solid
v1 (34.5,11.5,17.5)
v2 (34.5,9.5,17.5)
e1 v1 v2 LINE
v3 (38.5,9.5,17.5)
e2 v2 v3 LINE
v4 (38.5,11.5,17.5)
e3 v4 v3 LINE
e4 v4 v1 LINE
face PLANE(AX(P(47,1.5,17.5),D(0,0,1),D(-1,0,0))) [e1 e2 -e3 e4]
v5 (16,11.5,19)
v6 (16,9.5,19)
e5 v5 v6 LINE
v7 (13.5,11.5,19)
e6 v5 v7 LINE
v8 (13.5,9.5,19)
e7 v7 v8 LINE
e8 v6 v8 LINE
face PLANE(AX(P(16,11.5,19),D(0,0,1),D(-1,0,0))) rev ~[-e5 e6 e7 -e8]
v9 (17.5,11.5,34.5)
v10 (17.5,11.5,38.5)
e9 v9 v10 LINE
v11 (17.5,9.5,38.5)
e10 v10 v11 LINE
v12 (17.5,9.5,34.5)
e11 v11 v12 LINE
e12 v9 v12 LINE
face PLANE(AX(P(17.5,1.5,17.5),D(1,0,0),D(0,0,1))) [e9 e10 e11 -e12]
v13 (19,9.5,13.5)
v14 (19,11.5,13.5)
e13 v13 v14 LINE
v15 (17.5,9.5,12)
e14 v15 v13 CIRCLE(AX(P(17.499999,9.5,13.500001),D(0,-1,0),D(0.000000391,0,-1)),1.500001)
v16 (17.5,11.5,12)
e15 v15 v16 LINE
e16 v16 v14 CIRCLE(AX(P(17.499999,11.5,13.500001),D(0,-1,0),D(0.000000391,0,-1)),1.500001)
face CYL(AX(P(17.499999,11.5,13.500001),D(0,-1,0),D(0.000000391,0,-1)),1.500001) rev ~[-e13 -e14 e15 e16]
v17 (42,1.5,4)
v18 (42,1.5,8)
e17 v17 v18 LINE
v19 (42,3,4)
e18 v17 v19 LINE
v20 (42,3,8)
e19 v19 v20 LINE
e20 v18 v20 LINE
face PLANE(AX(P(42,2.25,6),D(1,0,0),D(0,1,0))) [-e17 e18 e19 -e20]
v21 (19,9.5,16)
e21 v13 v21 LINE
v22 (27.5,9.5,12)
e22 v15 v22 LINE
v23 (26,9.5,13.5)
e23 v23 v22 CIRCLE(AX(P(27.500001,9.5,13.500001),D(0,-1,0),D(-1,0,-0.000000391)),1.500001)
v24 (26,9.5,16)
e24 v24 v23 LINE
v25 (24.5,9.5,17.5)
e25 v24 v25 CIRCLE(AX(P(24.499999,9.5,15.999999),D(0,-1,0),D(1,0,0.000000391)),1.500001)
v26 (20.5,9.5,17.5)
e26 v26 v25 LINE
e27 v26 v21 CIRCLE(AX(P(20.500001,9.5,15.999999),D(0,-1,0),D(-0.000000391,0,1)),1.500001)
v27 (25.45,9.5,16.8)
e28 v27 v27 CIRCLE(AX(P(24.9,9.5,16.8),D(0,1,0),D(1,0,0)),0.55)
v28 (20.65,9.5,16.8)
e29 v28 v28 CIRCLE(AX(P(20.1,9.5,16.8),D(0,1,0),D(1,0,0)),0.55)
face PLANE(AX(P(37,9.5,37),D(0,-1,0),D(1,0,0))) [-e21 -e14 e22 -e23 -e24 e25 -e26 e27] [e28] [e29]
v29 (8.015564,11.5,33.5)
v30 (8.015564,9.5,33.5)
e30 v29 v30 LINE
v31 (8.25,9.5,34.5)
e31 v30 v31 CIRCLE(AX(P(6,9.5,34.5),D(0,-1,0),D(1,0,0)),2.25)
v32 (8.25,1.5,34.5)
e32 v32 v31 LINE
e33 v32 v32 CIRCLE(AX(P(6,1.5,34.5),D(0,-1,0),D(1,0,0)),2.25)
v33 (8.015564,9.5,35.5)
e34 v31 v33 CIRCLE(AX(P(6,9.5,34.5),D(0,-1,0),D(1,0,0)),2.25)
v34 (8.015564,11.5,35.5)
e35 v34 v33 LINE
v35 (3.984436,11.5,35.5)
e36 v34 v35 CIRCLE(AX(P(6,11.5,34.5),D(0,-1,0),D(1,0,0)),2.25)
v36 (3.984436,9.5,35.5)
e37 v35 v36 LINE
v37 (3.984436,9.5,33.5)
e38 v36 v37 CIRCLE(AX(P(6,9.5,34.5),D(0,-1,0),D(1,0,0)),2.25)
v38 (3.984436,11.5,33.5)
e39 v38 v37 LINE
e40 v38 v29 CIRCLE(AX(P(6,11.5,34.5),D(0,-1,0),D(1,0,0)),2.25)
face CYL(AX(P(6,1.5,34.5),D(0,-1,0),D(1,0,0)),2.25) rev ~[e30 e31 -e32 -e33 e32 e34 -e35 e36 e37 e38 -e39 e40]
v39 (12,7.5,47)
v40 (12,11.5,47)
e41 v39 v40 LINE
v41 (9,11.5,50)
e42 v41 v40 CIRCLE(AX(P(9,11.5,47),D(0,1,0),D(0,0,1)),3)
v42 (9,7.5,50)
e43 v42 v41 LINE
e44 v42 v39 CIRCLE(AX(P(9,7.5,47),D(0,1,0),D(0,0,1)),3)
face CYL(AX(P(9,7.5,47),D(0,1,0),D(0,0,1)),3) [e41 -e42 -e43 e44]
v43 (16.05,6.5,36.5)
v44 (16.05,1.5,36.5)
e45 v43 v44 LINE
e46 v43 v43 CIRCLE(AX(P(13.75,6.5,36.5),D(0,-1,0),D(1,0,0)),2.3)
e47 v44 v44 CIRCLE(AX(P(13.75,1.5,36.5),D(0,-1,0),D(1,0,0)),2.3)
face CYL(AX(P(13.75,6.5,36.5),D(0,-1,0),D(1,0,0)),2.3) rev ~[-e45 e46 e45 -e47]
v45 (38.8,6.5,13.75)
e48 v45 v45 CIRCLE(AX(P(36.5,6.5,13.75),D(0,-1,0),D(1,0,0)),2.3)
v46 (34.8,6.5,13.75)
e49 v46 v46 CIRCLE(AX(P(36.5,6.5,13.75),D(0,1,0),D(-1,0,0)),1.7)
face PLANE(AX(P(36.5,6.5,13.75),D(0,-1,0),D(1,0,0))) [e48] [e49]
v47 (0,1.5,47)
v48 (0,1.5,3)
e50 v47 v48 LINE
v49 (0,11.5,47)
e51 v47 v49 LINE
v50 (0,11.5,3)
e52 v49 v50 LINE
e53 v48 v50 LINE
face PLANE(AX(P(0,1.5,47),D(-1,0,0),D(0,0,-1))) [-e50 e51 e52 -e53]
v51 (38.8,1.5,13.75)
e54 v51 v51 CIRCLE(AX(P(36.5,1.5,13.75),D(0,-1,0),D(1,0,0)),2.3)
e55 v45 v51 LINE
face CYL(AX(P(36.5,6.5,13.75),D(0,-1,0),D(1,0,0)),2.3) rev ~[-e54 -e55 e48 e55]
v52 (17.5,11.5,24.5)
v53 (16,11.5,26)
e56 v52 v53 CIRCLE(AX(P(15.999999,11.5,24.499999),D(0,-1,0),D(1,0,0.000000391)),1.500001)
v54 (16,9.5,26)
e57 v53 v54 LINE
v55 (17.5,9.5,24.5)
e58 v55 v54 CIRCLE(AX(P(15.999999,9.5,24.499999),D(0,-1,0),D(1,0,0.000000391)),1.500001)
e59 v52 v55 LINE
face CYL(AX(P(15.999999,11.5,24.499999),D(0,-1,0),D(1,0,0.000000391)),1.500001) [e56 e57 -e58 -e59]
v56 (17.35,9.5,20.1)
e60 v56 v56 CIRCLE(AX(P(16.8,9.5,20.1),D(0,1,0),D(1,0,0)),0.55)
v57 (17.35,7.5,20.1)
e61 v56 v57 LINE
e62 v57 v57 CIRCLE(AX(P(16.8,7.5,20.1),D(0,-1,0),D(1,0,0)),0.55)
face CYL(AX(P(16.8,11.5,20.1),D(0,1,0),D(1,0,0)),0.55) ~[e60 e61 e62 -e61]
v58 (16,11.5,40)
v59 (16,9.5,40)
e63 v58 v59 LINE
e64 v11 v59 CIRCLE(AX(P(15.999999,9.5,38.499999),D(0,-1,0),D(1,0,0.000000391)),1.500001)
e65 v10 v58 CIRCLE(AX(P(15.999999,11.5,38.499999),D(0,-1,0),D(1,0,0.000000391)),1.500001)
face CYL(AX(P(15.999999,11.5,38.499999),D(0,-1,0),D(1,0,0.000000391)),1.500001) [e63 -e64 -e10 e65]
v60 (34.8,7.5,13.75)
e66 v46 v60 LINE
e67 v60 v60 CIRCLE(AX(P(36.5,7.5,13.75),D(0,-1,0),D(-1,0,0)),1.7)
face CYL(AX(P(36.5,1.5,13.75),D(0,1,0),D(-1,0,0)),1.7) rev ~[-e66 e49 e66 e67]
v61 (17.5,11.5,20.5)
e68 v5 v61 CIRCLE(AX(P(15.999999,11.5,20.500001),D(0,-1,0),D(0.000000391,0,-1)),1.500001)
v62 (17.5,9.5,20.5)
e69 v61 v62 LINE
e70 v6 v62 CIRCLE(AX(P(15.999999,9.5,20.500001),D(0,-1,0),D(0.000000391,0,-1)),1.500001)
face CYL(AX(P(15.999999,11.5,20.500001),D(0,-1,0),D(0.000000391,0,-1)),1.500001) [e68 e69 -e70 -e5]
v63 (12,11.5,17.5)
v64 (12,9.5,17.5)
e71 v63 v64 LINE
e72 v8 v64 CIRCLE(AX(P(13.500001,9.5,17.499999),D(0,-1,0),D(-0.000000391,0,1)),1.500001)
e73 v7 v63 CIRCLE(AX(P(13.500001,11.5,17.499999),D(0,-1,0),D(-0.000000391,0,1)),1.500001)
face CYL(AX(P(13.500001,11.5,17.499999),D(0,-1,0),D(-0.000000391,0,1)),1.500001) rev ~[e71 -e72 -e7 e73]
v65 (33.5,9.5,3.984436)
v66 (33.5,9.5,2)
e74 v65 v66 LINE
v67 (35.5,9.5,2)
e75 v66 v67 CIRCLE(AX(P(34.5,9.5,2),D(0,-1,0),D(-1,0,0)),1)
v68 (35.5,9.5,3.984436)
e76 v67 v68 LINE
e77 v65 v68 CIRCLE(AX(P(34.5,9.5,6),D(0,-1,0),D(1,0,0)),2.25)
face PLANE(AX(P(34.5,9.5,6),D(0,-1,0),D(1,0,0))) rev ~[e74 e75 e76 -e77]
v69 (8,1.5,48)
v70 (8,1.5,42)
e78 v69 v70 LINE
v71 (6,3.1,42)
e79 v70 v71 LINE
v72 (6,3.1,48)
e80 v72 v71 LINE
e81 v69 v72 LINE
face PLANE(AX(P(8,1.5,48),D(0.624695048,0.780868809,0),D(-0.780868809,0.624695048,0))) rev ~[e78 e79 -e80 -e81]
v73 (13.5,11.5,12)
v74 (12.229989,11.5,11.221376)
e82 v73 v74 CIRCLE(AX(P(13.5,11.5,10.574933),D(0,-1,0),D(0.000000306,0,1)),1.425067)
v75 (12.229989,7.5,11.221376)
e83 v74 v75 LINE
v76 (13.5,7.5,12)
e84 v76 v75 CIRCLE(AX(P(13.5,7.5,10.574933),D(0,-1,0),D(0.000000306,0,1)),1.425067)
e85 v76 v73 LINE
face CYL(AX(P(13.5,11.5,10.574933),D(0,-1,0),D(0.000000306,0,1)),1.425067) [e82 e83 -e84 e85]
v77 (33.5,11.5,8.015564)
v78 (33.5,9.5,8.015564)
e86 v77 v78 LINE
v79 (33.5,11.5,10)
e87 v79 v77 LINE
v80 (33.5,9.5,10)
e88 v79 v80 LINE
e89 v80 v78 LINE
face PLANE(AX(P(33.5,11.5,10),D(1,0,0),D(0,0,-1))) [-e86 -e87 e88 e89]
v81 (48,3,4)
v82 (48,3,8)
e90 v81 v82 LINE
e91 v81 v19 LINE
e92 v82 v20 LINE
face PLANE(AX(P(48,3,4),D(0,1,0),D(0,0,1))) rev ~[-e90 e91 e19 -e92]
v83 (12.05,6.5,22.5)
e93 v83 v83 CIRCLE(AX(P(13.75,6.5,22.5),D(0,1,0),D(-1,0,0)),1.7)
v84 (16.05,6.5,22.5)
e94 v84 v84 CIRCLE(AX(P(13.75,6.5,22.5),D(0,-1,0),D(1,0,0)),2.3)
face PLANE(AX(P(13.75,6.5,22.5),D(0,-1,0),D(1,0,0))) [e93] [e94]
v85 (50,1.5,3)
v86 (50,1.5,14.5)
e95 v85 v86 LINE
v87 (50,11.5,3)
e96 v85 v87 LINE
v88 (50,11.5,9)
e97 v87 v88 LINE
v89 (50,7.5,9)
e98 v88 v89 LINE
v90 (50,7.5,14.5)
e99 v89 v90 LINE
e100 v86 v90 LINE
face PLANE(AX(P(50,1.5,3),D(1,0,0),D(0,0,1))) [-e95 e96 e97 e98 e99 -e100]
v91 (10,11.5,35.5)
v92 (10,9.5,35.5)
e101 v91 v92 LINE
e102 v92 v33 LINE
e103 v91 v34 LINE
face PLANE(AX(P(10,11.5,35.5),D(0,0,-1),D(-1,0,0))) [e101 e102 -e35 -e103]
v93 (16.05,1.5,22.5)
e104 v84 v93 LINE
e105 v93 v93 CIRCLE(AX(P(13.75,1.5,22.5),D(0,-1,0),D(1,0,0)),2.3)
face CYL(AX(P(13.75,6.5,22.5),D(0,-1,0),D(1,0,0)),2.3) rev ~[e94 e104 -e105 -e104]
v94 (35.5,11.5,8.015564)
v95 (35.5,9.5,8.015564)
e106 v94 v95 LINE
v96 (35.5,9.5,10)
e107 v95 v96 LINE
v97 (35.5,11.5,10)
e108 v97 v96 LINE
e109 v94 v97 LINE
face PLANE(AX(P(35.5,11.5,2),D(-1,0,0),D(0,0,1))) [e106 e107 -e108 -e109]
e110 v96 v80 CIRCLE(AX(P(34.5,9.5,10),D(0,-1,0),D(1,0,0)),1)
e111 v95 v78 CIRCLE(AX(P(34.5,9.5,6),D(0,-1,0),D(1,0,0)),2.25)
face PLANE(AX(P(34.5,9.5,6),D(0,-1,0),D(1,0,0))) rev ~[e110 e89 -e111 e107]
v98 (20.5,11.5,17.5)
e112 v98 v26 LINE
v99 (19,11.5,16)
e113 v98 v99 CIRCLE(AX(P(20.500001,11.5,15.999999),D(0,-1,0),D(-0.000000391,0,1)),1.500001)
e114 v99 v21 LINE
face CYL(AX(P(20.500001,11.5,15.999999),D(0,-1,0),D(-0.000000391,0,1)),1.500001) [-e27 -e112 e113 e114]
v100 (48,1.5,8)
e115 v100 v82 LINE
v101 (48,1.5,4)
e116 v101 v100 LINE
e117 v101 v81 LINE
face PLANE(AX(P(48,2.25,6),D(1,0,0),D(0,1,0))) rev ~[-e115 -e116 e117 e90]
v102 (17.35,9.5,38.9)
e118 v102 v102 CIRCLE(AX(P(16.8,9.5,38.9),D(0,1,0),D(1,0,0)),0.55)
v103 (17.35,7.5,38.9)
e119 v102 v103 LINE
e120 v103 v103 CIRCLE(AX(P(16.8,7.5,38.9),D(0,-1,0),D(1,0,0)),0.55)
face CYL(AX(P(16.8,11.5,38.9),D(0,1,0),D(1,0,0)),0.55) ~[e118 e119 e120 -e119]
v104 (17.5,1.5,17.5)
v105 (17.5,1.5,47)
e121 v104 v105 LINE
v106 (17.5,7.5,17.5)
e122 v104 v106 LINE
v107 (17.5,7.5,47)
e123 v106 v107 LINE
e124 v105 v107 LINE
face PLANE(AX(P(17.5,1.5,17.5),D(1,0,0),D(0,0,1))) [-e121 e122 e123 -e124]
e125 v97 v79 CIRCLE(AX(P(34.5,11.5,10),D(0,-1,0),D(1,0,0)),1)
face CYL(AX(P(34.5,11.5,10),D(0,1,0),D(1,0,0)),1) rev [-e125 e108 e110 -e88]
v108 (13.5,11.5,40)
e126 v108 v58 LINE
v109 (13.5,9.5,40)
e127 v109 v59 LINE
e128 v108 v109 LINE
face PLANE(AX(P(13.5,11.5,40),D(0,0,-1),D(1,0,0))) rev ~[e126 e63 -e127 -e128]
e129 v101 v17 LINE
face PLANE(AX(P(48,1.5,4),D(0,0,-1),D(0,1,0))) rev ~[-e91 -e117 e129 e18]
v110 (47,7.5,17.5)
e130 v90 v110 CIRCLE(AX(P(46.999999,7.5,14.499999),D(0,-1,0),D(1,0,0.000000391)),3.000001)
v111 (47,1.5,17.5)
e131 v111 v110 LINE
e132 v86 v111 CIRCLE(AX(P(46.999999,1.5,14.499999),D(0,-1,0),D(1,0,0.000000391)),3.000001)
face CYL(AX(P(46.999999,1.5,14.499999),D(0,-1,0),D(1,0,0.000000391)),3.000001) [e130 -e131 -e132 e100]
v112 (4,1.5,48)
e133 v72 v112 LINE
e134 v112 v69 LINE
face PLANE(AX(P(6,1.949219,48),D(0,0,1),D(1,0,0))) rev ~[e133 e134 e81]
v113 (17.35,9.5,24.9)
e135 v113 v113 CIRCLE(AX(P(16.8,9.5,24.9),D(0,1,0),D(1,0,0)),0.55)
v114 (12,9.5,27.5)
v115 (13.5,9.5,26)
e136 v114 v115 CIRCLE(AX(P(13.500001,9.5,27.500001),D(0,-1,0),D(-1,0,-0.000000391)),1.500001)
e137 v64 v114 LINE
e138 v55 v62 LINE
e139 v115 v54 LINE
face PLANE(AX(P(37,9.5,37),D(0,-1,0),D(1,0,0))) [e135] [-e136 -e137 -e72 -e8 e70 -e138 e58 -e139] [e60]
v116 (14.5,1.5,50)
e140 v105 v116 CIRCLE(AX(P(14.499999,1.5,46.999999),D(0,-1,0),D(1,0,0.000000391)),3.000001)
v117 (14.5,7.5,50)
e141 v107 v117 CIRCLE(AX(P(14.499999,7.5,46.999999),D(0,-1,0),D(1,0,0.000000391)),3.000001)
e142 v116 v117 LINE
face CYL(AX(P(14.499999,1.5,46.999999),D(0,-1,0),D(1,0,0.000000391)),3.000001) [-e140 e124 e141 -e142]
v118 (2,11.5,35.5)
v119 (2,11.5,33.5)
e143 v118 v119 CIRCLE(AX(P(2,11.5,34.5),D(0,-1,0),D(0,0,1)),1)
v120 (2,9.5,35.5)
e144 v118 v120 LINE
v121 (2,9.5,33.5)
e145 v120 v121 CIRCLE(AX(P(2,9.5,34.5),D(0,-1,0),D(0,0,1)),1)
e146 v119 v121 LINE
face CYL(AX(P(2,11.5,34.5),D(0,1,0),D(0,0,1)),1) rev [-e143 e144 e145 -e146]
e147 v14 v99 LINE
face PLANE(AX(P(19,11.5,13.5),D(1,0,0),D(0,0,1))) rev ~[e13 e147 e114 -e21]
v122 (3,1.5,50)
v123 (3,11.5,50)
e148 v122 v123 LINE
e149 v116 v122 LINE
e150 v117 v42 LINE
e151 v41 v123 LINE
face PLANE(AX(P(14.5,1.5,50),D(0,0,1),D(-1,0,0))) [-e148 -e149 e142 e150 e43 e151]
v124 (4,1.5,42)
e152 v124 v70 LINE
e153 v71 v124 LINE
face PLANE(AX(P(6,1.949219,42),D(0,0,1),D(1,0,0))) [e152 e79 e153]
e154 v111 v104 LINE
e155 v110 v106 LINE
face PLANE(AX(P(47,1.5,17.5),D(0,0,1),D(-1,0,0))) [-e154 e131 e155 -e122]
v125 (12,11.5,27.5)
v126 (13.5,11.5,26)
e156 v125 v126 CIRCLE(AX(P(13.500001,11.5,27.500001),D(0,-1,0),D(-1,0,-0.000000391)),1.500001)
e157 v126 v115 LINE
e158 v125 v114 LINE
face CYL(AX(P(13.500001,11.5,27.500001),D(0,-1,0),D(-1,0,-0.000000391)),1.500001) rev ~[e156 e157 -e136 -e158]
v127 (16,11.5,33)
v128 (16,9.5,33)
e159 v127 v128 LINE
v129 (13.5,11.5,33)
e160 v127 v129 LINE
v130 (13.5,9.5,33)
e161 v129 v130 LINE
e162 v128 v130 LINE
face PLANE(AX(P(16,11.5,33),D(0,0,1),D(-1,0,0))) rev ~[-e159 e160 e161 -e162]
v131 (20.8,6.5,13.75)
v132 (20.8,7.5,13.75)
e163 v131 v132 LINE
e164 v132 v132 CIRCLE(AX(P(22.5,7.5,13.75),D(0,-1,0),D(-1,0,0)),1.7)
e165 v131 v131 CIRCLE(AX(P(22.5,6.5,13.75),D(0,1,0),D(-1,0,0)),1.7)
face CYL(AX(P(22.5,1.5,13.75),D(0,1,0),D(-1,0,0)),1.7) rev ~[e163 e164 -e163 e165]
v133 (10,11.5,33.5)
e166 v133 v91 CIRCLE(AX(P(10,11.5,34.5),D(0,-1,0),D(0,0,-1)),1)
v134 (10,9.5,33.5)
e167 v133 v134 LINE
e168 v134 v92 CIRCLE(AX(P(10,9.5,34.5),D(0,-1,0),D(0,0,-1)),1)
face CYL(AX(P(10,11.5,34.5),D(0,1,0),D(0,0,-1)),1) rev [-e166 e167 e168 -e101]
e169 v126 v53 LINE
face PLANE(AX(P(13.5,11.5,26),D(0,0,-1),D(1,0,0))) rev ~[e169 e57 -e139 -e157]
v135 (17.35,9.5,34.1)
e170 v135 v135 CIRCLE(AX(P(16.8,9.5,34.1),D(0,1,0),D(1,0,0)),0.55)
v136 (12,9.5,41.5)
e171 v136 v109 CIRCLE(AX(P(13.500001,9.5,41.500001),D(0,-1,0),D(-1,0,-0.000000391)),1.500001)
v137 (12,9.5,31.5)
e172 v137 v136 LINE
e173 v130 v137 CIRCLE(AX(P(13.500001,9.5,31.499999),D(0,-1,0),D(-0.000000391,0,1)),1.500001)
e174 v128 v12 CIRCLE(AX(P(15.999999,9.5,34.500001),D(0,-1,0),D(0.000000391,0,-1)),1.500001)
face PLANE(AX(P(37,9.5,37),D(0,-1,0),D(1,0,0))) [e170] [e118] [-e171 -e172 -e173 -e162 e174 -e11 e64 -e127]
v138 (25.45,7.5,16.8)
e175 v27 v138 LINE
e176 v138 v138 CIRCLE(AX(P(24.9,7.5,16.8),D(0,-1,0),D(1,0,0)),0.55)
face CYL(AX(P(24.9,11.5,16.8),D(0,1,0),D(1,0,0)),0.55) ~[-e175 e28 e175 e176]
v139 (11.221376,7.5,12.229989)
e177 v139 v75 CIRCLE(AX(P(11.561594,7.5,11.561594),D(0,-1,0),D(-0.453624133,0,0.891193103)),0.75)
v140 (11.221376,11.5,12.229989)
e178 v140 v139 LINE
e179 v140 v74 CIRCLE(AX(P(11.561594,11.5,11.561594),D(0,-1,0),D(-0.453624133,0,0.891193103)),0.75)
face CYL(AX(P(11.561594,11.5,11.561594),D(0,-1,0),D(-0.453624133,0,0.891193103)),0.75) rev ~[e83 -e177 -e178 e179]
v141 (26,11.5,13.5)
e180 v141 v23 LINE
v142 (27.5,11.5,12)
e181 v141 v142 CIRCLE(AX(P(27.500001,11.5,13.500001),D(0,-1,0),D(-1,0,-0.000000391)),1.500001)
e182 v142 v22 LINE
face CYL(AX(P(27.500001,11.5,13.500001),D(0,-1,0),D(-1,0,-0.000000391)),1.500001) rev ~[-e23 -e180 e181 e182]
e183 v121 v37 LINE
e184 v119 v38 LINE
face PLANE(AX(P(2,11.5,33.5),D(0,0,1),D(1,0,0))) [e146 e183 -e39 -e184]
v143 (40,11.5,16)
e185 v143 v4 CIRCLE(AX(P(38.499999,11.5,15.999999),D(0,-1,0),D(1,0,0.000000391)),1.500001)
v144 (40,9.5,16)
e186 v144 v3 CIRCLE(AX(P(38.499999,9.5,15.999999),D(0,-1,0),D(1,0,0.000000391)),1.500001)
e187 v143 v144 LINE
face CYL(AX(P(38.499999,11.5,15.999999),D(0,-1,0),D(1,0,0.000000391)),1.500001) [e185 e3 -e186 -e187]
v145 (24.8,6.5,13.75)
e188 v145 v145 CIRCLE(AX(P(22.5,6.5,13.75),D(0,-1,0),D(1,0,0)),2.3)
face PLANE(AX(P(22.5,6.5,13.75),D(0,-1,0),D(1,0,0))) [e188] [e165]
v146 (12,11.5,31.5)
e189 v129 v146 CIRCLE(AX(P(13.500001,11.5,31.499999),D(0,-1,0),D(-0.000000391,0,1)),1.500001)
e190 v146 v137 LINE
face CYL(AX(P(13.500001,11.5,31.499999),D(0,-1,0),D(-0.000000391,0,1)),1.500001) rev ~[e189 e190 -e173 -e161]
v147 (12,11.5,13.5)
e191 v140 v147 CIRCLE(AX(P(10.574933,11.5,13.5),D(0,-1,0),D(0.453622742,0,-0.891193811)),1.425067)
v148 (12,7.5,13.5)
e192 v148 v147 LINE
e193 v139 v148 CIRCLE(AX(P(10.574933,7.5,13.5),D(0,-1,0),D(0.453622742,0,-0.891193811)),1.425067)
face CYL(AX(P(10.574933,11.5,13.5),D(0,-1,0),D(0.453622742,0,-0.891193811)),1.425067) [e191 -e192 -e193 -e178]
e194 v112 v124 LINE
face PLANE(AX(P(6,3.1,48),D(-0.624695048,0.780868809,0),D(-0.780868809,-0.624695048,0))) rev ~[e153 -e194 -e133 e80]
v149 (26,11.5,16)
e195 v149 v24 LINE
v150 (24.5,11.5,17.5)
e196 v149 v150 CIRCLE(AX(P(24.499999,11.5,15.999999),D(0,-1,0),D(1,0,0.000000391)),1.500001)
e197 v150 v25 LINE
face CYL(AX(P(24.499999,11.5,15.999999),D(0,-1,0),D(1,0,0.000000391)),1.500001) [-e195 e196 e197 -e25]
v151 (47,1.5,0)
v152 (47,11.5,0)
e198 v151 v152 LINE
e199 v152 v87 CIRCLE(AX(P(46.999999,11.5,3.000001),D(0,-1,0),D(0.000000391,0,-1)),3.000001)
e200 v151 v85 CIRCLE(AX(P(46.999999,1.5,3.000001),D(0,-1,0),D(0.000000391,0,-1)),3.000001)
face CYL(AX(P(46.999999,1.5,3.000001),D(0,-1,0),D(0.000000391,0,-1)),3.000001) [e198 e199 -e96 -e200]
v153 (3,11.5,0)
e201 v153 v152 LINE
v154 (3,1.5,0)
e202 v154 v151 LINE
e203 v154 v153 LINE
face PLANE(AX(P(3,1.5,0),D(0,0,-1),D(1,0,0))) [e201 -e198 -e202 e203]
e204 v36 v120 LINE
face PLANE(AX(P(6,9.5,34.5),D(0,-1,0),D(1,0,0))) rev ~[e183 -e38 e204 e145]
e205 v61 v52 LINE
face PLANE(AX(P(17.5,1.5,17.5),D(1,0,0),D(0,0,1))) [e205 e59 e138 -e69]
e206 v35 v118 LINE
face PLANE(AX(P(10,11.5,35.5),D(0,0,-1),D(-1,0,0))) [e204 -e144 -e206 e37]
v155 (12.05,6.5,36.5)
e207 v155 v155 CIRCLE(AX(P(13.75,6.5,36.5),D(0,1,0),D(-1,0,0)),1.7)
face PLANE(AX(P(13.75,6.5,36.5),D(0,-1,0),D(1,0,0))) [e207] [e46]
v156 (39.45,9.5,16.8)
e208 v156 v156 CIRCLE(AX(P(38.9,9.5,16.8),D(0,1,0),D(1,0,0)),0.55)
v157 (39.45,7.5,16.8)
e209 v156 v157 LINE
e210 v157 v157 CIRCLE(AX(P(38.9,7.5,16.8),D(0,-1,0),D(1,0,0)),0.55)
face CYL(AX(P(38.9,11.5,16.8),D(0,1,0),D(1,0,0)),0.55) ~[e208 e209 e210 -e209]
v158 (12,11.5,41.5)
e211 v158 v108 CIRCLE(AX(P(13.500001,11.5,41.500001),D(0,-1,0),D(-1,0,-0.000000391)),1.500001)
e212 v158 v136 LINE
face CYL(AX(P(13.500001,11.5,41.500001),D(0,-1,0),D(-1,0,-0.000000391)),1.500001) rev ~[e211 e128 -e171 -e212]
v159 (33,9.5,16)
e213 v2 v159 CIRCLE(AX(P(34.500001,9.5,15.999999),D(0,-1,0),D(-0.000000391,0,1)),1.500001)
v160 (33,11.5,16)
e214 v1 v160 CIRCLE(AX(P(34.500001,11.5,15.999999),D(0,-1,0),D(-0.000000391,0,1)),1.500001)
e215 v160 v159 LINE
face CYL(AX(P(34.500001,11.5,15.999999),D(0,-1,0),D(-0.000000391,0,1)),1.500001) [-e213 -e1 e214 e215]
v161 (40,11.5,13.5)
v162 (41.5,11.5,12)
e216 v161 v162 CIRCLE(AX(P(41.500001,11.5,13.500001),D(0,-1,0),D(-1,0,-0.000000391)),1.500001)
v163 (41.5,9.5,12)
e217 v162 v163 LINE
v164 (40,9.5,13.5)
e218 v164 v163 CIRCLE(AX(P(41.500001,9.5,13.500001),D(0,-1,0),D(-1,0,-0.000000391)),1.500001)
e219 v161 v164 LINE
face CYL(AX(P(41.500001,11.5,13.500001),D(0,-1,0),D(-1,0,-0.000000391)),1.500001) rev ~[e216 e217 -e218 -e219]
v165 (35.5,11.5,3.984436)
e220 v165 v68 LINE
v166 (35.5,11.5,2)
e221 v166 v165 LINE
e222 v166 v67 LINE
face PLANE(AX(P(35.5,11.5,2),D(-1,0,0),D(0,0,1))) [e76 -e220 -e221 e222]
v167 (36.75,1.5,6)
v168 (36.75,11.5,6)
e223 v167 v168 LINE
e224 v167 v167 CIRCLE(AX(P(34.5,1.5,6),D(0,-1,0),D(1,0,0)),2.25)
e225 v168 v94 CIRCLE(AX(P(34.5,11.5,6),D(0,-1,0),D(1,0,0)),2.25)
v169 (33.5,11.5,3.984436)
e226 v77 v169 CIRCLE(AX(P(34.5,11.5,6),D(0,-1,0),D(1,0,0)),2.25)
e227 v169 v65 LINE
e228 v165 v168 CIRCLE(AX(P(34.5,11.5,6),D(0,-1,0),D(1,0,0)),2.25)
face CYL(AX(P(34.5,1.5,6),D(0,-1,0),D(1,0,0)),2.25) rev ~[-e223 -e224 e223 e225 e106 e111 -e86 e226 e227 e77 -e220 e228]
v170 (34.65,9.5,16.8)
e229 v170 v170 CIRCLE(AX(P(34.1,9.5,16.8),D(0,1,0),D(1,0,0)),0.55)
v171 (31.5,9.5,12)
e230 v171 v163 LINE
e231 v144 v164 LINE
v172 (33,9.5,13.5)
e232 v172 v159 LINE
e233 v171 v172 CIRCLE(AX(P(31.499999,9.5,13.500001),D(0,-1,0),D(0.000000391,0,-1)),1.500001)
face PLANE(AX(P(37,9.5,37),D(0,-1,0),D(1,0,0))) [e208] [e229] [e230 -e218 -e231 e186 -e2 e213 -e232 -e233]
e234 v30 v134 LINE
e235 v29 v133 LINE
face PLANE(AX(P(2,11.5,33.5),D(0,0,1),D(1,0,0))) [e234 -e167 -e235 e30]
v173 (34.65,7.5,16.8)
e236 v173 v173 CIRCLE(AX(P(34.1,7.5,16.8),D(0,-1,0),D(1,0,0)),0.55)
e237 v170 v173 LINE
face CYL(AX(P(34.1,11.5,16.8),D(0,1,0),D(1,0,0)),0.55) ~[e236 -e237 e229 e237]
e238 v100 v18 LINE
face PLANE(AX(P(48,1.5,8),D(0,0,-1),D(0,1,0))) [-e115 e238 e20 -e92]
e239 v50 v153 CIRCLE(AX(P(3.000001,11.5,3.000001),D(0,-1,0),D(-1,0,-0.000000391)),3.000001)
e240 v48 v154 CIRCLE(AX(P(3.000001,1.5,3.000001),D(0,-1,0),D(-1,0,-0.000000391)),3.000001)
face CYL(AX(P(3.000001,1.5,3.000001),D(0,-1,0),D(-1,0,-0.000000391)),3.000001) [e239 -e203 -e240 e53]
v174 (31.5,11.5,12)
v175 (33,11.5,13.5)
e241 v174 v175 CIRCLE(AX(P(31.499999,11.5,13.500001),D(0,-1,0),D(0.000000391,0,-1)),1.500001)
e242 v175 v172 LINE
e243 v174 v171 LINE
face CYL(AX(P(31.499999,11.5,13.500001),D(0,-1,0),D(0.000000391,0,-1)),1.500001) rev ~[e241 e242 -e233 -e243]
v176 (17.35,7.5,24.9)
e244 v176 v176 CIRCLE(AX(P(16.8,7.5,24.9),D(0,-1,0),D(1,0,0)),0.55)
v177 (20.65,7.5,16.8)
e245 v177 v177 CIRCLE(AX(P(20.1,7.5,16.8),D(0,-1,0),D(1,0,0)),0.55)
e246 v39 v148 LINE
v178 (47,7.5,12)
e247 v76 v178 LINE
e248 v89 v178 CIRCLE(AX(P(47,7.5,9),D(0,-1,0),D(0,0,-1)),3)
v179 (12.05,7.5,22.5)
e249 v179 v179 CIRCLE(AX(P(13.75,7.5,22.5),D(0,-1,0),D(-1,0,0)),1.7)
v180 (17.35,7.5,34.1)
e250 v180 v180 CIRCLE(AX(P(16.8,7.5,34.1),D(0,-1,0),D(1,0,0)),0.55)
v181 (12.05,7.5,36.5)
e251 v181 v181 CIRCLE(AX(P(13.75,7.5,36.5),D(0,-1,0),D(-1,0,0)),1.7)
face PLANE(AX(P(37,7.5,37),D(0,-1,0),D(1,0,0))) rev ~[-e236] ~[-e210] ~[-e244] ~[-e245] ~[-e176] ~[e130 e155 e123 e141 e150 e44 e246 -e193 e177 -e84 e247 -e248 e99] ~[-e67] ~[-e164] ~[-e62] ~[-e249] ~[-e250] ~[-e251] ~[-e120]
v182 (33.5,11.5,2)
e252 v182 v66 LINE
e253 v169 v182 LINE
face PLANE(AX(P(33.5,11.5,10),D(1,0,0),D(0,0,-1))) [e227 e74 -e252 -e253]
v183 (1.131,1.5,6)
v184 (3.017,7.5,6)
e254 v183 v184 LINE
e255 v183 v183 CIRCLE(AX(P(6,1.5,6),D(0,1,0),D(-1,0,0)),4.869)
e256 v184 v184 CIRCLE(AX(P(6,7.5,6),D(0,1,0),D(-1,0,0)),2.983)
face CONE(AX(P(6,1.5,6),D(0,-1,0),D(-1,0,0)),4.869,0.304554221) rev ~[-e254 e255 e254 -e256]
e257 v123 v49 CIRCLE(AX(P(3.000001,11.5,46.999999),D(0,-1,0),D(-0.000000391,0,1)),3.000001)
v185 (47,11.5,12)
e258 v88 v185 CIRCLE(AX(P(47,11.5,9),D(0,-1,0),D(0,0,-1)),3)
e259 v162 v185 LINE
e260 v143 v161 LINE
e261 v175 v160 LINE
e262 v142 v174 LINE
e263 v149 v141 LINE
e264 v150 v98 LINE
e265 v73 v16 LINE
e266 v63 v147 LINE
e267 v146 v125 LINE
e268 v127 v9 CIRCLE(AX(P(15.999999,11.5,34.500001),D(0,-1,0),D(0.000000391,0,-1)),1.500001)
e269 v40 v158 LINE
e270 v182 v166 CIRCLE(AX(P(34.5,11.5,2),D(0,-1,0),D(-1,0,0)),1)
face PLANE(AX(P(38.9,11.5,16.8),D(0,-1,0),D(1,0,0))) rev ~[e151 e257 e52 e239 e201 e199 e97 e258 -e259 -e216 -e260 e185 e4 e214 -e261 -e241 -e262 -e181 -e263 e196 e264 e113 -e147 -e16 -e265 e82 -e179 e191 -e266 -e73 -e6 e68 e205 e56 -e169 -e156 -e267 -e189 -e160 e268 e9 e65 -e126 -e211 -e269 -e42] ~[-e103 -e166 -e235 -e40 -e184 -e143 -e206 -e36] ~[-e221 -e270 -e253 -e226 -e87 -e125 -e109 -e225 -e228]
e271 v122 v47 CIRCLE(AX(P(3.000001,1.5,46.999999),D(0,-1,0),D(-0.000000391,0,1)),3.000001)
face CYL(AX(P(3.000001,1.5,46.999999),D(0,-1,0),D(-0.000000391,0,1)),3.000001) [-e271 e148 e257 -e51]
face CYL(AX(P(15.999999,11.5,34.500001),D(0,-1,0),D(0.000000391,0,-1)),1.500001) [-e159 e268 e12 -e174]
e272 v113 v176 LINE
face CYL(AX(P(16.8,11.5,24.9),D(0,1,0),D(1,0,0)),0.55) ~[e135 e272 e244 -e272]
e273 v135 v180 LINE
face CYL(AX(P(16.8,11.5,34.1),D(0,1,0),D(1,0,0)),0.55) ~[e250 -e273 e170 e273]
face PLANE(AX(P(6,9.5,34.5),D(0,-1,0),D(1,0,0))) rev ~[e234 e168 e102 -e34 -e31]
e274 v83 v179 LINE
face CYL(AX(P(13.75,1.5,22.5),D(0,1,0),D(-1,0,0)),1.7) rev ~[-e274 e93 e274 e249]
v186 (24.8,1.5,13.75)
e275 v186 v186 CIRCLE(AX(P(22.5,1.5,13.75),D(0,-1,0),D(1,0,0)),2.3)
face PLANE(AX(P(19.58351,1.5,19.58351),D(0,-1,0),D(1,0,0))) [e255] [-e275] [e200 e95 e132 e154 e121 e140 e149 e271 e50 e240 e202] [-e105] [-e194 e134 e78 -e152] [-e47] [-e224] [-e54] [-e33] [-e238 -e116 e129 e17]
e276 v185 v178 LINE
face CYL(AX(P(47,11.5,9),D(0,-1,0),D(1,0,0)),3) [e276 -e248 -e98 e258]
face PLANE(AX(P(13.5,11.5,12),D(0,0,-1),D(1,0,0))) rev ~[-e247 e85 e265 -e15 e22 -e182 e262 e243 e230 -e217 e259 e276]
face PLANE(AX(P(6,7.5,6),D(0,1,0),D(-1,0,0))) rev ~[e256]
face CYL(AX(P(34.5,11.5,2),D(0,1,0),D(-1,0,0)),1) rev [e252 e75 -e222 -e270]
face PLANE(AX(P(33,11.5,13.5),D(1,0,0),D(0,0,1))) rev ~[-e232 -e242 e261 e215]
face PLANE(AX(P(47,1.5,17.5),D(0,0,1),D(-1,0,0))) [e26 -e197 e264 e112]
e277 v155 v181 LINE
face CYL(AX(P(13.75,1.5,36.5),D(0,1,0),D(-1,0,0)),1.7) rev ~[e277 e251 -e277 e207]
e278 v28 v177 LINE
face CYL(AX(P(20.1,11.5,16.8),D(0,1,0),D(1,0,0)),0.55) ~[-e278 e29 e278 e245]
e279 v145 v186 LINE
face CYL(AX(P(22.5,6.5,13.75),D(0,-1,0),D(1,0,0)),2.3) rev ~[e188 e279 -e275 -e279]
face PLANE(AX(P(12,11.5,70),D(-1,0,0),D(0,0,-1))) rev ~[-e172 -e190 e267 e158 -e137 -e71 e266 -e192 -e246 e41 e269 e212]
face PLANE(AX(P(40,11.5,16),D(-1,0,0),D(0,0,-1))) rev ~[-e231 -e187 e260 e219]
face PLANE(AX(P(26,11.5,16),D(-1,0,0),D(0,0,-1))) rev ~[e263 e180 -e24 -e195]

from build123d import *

# Parameters (mm, degrees)
PAD006_DEPTH     = 4
PAD002_DEPTH     = 10
SKETCH005_R      = 2.25
POCKET001_DEPTH  = 10.001
BOX_W            = 50
BOX_H            = 50
BOX_DEPTH        = 2
HOLE_D           = 3.4
HOLE_DEPTH       = 6
HOLE_CBORE_D     = 4.6
HOLE_CBORE_DEPTH = 5
HOLE_TIPS_R      = 1.7
SKETCH017_R      = 0.55
PAD009_DEPTH     = 4
POCKET007_DEPTH  = 2
POCKET008_DEPTH  = 6
SKETCH022_W      = 1.5
SKETCH022_H      = 4
POCKET009_DEPTH  = 6
FILLET_R         = 3


with BuildPart() as setscrewbackplatecutbody:
    # Sketch013 → Pad006 (new body, symmetric)
    with BuildSketch(Plane.XZ.offset(-11.5)):
        with BuildLine():
            Line((19, 13.5), (19, 16))
            ThreePointArc((20.5, 17.5), (19.43934, 17.06066), (19, 16))
            Line((20.5, 17.5), (24.5, 17.5))
            ThreePointArc((26, 16), (25.56066, 17.06066), (24.5, 17.5))
            Line((26, 16), (26, 13.5))
            ThreePointArc((26, 13.5), (26.43934, 12.43934), (27.5, 12))
            Line((27.5, 12), (31.5, 12))
            ThreePointArc((31.5, 12), (32.56066, 12.43934), (33, 13.5))
            Line((33, 13.5), (33, 16))
            ThreePointArc((34.5, 17.5), (33.43934, 17.06066), (33, 16))
            Line((34.5, 17.5), (38.5, 17.5))
            ThreePointArc((40, 16), (39.56066, 17.06066), (38.5, 17.5))
            Line((40, 16), (40, 13.5))
            ThreePointArc((40, 13.5), (40.43934, 12.43934), (41.5, 12))
            Line((41.5, 12), (70, 12))
            Line((70, 12), (70, 23.387521))
            Line((70, 23.387521), (23.387521, 70))
            Line((23.387521, 70), (12, 70))
            Line((12, 70), (12, 41.5))
            ThreePointArc((12, 41.5), (12.43934, 40.43934), (13.5, 40))
            Line((13.5, 40), (16, 40))
            ThreePointArc((17.5, 38.5), (17.06066, 39.56066), (16, 40))
            Line((17.5, 38.5), (17.5, 34.5))
            ThreePointArc((16, 33), (17.06066, 33.43934), (17.5, 34.5))
            Line((16, 33), (13.5, 33))
            ThreePointArc((13.5, 33), (12.43934, 32.56066), (12, 31.5))
            Line((12, 31.5), (12, 27.5))
            ThreePointArc((12, 27.5), (12.43934, 26.43934), (13.5, 26))
            Line((13.5, 26), (16, 26))
            ThreePointArc((17.5, 24.5), (17.06066, 25.56066), (16, 26))
            Line((17.5, 24.5), (17.5, 20.5))
            ThreePointArc((16, 19), (17.06066, 19.43934), (17.5, 20.5))
            Line((16, 19), (13.5, 19))
            ThreePointArc((13.5, 19), (12.43934, 18.56066), (12, 17.5))
            Line((12, 17.5), (12, 13.5))
            ThreePointArc((11.221376, 12.229989), (11.789849, 12.755154), (12, 13.5))
            ThreePointArc((11.221376, 12.229989), (11.031264, 11.031264), (12.229989, 11.221376))
            ThreePointArc((13.5, 12), (12.755154, 11.789849), (12.229989, 11.221376))
            Line((13.5, 12), (17.5, 12))
            ThreePointArc((17.5, 12), (18.56066, 12.43934), (19, 13.5))
        make_face()
    extrude(amount=PAD006_DEPTH, both=True)


with BuildPart() as tiltplatebody:
    # Sketch003 (on DatumPlane) → Pad002 (new body)
    with BuildSketch(Plane.XZ.offset(-1.5)):
        with BuildLine():
            Line((3, 0), (47, 0))
            ThreePointArc((47, 0), (49.12132, 0.87868), (50, 3))
            Line((50, 3), (50, 14.5))
            ThreePointArc((50, 14.5), (49.12132, 16.62132), (47, 17.5))
            Line((47, 17.5), (17.5, 17.5))
            Line((17.5, 17.5), (17.5, 47))
            ThreePointArc((17.5, 47), (16.62132, 49.12132), (14.5, 50))
            Line((14.5, 50), (3, 50))
            ThreePointArc((3, 50), (0.87868, 49.12132), (0, 47))
            Line((0, 47), (0, 3))
            ThreePointArc((0, 3), (0.87868, 0.87868), (3, 0))
        make_face()
    extrude(amount=-PAD002_DEPTH)

    # Sketch005 (on DatumPlane) → Pocket001 (cut, through all)
    with BuildSketch(Plane.XZ.offset(-1.5)):
        with Locations((34.5, 6)):
            Circle(SKETCH005_R)
        with Locations((6, 34.5)):
            Circle(SKETCH005_R)
    extrude(amount=-POCKET001_DEPTH, mode=Mode.SUBTRACT)

    # Box → Box (cut)
    with BuildSketch(Plane(origin=(12, 9.5, 12), x_dir=(1, 0, 0), z_dir=(0, -1, 0))):
        with Locations((25, 25)):
            Rectangle(BOX_W, BOX_H)
    extrude(amount=BOX_DEPTH, mode=Mode.SUBTRACT)

    # Boolean003: cut SetscrewBackplateCutBody
    add(setscrewbackplatecutbody.part, mode=Mode.SUBTRACT)

    # Hole
    with Locations(Plane.XZ.offset(-1.5)):
        with Locations((36.5, 13.75), (22.5, 13.75), (13.75, 22.5), (13.75, 36.5)):
            CounterBoreHole(HOLE_D / 2, HOLE_CBORE_D / 2, HOLE_CBORE_DEPTH, depth=HOLE_DEPTH)

    # Hole tips → Hole tip 1 section 0
    with BuildSketch(Plane.XZ.offset(-7.5), mode=Mode.PRIVATE) as hole_tip_1_s0:
        with Locations((36.5, 13.75)):
            Circle(HOLE_TIPS_R)
    loft([hole_tip_1_s0.sketch, Vertex(36.5, 8.521463, 13.75)], mode=Mode.SUBTRACT)

    # Hole tips → Hole tip 2 section 0
    with BuildSketch(Plane.XZ.offset(-7.5), mode=Mode.PRIVATE) as hole_tip_2_s0:
        with Locations((22.5, 13.75)):
            Circle(HOLE_TIPS_R)
    loft([hole_tip_2_s0.sketch, Vertex(22.5, 8.521463, 13.75)], mode=Mode.SUBTRACT)

    # Hole tips → Hole tip 3 section 0
    with BuildSketch(Plane.XZ.offset(-7.5), mode=Mode.PRIVATE) as hole_tip_3_s0:
        with Locations((13.75, 22.5)):
            Circle(HOLE_TIPS_R)
    loft([hole_tip_3_s0.sketch, Vertex(13.75, 8.521463, 22.5)], mode=Mode.SUBTRACT)

    # Hole tips → Hole tip 4 section 0
    with BuildSketch(Plane.XZ.offset(-7.5), mode=Mode.PRIVATE) as hole_tip_4_s0:
        with Locations((13.75, 36.5)):
            Circle(HOLE_TIPS_R)
    loft([hole_tip_4_s0.sketch, Vertex(13.75, 8.521463, 36.5)], mode=Mode.SUBTRACT)

    # Sketch017 (on DatumPlane) → Pad009 (join)
    with BuildSketch(Plane.XZ.offset(-11.5)):
        with Locations((38.9, 16.8)):
            Circle(SKETCH017_R)
        with Locations((34.1, 16.8)):
            Circle(SKETCH017_R)
        with Locations((24.9, 16.8)):
            Circle(SKETCH017_R)
        with Locations((20.1, 16.8)):
            Circle(SKETCH017_R)
        with Locations((16.8, 20.1)):
            Circle(SKETCH017_R)
        with Locations((16.8, 24.9)):
            Circle(SKETCH017_R)
        with Locations((16.8, 34.1)):
            Circle(SKETCH017_R)
        with Locations((16.8, 38.9)):
            Circle(SKETCH017_R)
    extrude(amount=PAD009_DEPTH)

    # Sketch019 (on DatumPlane) → Pocket007 (cut)
    with BuildSketch(Plane.XZ.offset(-11.5)):
        with BuildLine():
            ThreePointArc((35.5, 10), (34.5, 11), (33.5, 10))
            Line((33.5, 10), (33.5, 2))
            ThreePointArc((33.5, 2), (34.5, 1), (35.5, 2))
            Line((35.5, 2), (35.5, 10))
        make_face()
        with BuildLine():
            ThreePointArc((10, 33.5), (11, 34.5), (10, 35.5))
            Line((10, 35.5), (2, 35.5))
            ThreePointArc((2, 35.5), (1, 34.5), (2, 33.5))
            Line((2, 33.5), (10, 33.5))
        make_face()
    extrude(amount=POCKET007_DEPTH, mode=Mode.SUBTRACT)

    # Sketch021 → Pocket008 (cut)
    with BuildSketch(Plane.XY.offset(48)):
        Polygon((4, 1.5), (8, 1.5), (6, 3.1), align=None)
    extrude(amount=-POCKET008_DEPTH, mode=Mode.SUBTRACT)

    # Sketch022 → Pocket009 (cut)
    with BuildSketch(Plane.YZ.offset(48)):
        with Locations((2.25, 6)):
            Rectangle(SKETCH022_W, SKETCH022_H)
    extrude(amount=-POCKET009_DEPTH, mode=Mode.SUBTRACT)

    # Cone001 → Cone001 (revolve, cut)
    with BuildSketch(Plane(origin=(6, 1.5, 6), x_dir=(-1, 0, 0), z_dir=(0, 0, -1))):
        Polygon((0, 0), (4.869, 0), (2.983, 6), (0, 6), align=None)
    revolve(axis=Axis((6, 1.5, 6), (0, 1, 0)), mode=Mode.SUBTRACT)

    # Fillet
    fillet_edges = [tiltplatebody.edges().sort_by_distance(p)[0] for p in [
        (12, 9.5, 50),
        (50, 9.5, 12),
    ]]
    fillet(fillet_edges, radius=FILLET_R)


solid = tiltplatebody.part
